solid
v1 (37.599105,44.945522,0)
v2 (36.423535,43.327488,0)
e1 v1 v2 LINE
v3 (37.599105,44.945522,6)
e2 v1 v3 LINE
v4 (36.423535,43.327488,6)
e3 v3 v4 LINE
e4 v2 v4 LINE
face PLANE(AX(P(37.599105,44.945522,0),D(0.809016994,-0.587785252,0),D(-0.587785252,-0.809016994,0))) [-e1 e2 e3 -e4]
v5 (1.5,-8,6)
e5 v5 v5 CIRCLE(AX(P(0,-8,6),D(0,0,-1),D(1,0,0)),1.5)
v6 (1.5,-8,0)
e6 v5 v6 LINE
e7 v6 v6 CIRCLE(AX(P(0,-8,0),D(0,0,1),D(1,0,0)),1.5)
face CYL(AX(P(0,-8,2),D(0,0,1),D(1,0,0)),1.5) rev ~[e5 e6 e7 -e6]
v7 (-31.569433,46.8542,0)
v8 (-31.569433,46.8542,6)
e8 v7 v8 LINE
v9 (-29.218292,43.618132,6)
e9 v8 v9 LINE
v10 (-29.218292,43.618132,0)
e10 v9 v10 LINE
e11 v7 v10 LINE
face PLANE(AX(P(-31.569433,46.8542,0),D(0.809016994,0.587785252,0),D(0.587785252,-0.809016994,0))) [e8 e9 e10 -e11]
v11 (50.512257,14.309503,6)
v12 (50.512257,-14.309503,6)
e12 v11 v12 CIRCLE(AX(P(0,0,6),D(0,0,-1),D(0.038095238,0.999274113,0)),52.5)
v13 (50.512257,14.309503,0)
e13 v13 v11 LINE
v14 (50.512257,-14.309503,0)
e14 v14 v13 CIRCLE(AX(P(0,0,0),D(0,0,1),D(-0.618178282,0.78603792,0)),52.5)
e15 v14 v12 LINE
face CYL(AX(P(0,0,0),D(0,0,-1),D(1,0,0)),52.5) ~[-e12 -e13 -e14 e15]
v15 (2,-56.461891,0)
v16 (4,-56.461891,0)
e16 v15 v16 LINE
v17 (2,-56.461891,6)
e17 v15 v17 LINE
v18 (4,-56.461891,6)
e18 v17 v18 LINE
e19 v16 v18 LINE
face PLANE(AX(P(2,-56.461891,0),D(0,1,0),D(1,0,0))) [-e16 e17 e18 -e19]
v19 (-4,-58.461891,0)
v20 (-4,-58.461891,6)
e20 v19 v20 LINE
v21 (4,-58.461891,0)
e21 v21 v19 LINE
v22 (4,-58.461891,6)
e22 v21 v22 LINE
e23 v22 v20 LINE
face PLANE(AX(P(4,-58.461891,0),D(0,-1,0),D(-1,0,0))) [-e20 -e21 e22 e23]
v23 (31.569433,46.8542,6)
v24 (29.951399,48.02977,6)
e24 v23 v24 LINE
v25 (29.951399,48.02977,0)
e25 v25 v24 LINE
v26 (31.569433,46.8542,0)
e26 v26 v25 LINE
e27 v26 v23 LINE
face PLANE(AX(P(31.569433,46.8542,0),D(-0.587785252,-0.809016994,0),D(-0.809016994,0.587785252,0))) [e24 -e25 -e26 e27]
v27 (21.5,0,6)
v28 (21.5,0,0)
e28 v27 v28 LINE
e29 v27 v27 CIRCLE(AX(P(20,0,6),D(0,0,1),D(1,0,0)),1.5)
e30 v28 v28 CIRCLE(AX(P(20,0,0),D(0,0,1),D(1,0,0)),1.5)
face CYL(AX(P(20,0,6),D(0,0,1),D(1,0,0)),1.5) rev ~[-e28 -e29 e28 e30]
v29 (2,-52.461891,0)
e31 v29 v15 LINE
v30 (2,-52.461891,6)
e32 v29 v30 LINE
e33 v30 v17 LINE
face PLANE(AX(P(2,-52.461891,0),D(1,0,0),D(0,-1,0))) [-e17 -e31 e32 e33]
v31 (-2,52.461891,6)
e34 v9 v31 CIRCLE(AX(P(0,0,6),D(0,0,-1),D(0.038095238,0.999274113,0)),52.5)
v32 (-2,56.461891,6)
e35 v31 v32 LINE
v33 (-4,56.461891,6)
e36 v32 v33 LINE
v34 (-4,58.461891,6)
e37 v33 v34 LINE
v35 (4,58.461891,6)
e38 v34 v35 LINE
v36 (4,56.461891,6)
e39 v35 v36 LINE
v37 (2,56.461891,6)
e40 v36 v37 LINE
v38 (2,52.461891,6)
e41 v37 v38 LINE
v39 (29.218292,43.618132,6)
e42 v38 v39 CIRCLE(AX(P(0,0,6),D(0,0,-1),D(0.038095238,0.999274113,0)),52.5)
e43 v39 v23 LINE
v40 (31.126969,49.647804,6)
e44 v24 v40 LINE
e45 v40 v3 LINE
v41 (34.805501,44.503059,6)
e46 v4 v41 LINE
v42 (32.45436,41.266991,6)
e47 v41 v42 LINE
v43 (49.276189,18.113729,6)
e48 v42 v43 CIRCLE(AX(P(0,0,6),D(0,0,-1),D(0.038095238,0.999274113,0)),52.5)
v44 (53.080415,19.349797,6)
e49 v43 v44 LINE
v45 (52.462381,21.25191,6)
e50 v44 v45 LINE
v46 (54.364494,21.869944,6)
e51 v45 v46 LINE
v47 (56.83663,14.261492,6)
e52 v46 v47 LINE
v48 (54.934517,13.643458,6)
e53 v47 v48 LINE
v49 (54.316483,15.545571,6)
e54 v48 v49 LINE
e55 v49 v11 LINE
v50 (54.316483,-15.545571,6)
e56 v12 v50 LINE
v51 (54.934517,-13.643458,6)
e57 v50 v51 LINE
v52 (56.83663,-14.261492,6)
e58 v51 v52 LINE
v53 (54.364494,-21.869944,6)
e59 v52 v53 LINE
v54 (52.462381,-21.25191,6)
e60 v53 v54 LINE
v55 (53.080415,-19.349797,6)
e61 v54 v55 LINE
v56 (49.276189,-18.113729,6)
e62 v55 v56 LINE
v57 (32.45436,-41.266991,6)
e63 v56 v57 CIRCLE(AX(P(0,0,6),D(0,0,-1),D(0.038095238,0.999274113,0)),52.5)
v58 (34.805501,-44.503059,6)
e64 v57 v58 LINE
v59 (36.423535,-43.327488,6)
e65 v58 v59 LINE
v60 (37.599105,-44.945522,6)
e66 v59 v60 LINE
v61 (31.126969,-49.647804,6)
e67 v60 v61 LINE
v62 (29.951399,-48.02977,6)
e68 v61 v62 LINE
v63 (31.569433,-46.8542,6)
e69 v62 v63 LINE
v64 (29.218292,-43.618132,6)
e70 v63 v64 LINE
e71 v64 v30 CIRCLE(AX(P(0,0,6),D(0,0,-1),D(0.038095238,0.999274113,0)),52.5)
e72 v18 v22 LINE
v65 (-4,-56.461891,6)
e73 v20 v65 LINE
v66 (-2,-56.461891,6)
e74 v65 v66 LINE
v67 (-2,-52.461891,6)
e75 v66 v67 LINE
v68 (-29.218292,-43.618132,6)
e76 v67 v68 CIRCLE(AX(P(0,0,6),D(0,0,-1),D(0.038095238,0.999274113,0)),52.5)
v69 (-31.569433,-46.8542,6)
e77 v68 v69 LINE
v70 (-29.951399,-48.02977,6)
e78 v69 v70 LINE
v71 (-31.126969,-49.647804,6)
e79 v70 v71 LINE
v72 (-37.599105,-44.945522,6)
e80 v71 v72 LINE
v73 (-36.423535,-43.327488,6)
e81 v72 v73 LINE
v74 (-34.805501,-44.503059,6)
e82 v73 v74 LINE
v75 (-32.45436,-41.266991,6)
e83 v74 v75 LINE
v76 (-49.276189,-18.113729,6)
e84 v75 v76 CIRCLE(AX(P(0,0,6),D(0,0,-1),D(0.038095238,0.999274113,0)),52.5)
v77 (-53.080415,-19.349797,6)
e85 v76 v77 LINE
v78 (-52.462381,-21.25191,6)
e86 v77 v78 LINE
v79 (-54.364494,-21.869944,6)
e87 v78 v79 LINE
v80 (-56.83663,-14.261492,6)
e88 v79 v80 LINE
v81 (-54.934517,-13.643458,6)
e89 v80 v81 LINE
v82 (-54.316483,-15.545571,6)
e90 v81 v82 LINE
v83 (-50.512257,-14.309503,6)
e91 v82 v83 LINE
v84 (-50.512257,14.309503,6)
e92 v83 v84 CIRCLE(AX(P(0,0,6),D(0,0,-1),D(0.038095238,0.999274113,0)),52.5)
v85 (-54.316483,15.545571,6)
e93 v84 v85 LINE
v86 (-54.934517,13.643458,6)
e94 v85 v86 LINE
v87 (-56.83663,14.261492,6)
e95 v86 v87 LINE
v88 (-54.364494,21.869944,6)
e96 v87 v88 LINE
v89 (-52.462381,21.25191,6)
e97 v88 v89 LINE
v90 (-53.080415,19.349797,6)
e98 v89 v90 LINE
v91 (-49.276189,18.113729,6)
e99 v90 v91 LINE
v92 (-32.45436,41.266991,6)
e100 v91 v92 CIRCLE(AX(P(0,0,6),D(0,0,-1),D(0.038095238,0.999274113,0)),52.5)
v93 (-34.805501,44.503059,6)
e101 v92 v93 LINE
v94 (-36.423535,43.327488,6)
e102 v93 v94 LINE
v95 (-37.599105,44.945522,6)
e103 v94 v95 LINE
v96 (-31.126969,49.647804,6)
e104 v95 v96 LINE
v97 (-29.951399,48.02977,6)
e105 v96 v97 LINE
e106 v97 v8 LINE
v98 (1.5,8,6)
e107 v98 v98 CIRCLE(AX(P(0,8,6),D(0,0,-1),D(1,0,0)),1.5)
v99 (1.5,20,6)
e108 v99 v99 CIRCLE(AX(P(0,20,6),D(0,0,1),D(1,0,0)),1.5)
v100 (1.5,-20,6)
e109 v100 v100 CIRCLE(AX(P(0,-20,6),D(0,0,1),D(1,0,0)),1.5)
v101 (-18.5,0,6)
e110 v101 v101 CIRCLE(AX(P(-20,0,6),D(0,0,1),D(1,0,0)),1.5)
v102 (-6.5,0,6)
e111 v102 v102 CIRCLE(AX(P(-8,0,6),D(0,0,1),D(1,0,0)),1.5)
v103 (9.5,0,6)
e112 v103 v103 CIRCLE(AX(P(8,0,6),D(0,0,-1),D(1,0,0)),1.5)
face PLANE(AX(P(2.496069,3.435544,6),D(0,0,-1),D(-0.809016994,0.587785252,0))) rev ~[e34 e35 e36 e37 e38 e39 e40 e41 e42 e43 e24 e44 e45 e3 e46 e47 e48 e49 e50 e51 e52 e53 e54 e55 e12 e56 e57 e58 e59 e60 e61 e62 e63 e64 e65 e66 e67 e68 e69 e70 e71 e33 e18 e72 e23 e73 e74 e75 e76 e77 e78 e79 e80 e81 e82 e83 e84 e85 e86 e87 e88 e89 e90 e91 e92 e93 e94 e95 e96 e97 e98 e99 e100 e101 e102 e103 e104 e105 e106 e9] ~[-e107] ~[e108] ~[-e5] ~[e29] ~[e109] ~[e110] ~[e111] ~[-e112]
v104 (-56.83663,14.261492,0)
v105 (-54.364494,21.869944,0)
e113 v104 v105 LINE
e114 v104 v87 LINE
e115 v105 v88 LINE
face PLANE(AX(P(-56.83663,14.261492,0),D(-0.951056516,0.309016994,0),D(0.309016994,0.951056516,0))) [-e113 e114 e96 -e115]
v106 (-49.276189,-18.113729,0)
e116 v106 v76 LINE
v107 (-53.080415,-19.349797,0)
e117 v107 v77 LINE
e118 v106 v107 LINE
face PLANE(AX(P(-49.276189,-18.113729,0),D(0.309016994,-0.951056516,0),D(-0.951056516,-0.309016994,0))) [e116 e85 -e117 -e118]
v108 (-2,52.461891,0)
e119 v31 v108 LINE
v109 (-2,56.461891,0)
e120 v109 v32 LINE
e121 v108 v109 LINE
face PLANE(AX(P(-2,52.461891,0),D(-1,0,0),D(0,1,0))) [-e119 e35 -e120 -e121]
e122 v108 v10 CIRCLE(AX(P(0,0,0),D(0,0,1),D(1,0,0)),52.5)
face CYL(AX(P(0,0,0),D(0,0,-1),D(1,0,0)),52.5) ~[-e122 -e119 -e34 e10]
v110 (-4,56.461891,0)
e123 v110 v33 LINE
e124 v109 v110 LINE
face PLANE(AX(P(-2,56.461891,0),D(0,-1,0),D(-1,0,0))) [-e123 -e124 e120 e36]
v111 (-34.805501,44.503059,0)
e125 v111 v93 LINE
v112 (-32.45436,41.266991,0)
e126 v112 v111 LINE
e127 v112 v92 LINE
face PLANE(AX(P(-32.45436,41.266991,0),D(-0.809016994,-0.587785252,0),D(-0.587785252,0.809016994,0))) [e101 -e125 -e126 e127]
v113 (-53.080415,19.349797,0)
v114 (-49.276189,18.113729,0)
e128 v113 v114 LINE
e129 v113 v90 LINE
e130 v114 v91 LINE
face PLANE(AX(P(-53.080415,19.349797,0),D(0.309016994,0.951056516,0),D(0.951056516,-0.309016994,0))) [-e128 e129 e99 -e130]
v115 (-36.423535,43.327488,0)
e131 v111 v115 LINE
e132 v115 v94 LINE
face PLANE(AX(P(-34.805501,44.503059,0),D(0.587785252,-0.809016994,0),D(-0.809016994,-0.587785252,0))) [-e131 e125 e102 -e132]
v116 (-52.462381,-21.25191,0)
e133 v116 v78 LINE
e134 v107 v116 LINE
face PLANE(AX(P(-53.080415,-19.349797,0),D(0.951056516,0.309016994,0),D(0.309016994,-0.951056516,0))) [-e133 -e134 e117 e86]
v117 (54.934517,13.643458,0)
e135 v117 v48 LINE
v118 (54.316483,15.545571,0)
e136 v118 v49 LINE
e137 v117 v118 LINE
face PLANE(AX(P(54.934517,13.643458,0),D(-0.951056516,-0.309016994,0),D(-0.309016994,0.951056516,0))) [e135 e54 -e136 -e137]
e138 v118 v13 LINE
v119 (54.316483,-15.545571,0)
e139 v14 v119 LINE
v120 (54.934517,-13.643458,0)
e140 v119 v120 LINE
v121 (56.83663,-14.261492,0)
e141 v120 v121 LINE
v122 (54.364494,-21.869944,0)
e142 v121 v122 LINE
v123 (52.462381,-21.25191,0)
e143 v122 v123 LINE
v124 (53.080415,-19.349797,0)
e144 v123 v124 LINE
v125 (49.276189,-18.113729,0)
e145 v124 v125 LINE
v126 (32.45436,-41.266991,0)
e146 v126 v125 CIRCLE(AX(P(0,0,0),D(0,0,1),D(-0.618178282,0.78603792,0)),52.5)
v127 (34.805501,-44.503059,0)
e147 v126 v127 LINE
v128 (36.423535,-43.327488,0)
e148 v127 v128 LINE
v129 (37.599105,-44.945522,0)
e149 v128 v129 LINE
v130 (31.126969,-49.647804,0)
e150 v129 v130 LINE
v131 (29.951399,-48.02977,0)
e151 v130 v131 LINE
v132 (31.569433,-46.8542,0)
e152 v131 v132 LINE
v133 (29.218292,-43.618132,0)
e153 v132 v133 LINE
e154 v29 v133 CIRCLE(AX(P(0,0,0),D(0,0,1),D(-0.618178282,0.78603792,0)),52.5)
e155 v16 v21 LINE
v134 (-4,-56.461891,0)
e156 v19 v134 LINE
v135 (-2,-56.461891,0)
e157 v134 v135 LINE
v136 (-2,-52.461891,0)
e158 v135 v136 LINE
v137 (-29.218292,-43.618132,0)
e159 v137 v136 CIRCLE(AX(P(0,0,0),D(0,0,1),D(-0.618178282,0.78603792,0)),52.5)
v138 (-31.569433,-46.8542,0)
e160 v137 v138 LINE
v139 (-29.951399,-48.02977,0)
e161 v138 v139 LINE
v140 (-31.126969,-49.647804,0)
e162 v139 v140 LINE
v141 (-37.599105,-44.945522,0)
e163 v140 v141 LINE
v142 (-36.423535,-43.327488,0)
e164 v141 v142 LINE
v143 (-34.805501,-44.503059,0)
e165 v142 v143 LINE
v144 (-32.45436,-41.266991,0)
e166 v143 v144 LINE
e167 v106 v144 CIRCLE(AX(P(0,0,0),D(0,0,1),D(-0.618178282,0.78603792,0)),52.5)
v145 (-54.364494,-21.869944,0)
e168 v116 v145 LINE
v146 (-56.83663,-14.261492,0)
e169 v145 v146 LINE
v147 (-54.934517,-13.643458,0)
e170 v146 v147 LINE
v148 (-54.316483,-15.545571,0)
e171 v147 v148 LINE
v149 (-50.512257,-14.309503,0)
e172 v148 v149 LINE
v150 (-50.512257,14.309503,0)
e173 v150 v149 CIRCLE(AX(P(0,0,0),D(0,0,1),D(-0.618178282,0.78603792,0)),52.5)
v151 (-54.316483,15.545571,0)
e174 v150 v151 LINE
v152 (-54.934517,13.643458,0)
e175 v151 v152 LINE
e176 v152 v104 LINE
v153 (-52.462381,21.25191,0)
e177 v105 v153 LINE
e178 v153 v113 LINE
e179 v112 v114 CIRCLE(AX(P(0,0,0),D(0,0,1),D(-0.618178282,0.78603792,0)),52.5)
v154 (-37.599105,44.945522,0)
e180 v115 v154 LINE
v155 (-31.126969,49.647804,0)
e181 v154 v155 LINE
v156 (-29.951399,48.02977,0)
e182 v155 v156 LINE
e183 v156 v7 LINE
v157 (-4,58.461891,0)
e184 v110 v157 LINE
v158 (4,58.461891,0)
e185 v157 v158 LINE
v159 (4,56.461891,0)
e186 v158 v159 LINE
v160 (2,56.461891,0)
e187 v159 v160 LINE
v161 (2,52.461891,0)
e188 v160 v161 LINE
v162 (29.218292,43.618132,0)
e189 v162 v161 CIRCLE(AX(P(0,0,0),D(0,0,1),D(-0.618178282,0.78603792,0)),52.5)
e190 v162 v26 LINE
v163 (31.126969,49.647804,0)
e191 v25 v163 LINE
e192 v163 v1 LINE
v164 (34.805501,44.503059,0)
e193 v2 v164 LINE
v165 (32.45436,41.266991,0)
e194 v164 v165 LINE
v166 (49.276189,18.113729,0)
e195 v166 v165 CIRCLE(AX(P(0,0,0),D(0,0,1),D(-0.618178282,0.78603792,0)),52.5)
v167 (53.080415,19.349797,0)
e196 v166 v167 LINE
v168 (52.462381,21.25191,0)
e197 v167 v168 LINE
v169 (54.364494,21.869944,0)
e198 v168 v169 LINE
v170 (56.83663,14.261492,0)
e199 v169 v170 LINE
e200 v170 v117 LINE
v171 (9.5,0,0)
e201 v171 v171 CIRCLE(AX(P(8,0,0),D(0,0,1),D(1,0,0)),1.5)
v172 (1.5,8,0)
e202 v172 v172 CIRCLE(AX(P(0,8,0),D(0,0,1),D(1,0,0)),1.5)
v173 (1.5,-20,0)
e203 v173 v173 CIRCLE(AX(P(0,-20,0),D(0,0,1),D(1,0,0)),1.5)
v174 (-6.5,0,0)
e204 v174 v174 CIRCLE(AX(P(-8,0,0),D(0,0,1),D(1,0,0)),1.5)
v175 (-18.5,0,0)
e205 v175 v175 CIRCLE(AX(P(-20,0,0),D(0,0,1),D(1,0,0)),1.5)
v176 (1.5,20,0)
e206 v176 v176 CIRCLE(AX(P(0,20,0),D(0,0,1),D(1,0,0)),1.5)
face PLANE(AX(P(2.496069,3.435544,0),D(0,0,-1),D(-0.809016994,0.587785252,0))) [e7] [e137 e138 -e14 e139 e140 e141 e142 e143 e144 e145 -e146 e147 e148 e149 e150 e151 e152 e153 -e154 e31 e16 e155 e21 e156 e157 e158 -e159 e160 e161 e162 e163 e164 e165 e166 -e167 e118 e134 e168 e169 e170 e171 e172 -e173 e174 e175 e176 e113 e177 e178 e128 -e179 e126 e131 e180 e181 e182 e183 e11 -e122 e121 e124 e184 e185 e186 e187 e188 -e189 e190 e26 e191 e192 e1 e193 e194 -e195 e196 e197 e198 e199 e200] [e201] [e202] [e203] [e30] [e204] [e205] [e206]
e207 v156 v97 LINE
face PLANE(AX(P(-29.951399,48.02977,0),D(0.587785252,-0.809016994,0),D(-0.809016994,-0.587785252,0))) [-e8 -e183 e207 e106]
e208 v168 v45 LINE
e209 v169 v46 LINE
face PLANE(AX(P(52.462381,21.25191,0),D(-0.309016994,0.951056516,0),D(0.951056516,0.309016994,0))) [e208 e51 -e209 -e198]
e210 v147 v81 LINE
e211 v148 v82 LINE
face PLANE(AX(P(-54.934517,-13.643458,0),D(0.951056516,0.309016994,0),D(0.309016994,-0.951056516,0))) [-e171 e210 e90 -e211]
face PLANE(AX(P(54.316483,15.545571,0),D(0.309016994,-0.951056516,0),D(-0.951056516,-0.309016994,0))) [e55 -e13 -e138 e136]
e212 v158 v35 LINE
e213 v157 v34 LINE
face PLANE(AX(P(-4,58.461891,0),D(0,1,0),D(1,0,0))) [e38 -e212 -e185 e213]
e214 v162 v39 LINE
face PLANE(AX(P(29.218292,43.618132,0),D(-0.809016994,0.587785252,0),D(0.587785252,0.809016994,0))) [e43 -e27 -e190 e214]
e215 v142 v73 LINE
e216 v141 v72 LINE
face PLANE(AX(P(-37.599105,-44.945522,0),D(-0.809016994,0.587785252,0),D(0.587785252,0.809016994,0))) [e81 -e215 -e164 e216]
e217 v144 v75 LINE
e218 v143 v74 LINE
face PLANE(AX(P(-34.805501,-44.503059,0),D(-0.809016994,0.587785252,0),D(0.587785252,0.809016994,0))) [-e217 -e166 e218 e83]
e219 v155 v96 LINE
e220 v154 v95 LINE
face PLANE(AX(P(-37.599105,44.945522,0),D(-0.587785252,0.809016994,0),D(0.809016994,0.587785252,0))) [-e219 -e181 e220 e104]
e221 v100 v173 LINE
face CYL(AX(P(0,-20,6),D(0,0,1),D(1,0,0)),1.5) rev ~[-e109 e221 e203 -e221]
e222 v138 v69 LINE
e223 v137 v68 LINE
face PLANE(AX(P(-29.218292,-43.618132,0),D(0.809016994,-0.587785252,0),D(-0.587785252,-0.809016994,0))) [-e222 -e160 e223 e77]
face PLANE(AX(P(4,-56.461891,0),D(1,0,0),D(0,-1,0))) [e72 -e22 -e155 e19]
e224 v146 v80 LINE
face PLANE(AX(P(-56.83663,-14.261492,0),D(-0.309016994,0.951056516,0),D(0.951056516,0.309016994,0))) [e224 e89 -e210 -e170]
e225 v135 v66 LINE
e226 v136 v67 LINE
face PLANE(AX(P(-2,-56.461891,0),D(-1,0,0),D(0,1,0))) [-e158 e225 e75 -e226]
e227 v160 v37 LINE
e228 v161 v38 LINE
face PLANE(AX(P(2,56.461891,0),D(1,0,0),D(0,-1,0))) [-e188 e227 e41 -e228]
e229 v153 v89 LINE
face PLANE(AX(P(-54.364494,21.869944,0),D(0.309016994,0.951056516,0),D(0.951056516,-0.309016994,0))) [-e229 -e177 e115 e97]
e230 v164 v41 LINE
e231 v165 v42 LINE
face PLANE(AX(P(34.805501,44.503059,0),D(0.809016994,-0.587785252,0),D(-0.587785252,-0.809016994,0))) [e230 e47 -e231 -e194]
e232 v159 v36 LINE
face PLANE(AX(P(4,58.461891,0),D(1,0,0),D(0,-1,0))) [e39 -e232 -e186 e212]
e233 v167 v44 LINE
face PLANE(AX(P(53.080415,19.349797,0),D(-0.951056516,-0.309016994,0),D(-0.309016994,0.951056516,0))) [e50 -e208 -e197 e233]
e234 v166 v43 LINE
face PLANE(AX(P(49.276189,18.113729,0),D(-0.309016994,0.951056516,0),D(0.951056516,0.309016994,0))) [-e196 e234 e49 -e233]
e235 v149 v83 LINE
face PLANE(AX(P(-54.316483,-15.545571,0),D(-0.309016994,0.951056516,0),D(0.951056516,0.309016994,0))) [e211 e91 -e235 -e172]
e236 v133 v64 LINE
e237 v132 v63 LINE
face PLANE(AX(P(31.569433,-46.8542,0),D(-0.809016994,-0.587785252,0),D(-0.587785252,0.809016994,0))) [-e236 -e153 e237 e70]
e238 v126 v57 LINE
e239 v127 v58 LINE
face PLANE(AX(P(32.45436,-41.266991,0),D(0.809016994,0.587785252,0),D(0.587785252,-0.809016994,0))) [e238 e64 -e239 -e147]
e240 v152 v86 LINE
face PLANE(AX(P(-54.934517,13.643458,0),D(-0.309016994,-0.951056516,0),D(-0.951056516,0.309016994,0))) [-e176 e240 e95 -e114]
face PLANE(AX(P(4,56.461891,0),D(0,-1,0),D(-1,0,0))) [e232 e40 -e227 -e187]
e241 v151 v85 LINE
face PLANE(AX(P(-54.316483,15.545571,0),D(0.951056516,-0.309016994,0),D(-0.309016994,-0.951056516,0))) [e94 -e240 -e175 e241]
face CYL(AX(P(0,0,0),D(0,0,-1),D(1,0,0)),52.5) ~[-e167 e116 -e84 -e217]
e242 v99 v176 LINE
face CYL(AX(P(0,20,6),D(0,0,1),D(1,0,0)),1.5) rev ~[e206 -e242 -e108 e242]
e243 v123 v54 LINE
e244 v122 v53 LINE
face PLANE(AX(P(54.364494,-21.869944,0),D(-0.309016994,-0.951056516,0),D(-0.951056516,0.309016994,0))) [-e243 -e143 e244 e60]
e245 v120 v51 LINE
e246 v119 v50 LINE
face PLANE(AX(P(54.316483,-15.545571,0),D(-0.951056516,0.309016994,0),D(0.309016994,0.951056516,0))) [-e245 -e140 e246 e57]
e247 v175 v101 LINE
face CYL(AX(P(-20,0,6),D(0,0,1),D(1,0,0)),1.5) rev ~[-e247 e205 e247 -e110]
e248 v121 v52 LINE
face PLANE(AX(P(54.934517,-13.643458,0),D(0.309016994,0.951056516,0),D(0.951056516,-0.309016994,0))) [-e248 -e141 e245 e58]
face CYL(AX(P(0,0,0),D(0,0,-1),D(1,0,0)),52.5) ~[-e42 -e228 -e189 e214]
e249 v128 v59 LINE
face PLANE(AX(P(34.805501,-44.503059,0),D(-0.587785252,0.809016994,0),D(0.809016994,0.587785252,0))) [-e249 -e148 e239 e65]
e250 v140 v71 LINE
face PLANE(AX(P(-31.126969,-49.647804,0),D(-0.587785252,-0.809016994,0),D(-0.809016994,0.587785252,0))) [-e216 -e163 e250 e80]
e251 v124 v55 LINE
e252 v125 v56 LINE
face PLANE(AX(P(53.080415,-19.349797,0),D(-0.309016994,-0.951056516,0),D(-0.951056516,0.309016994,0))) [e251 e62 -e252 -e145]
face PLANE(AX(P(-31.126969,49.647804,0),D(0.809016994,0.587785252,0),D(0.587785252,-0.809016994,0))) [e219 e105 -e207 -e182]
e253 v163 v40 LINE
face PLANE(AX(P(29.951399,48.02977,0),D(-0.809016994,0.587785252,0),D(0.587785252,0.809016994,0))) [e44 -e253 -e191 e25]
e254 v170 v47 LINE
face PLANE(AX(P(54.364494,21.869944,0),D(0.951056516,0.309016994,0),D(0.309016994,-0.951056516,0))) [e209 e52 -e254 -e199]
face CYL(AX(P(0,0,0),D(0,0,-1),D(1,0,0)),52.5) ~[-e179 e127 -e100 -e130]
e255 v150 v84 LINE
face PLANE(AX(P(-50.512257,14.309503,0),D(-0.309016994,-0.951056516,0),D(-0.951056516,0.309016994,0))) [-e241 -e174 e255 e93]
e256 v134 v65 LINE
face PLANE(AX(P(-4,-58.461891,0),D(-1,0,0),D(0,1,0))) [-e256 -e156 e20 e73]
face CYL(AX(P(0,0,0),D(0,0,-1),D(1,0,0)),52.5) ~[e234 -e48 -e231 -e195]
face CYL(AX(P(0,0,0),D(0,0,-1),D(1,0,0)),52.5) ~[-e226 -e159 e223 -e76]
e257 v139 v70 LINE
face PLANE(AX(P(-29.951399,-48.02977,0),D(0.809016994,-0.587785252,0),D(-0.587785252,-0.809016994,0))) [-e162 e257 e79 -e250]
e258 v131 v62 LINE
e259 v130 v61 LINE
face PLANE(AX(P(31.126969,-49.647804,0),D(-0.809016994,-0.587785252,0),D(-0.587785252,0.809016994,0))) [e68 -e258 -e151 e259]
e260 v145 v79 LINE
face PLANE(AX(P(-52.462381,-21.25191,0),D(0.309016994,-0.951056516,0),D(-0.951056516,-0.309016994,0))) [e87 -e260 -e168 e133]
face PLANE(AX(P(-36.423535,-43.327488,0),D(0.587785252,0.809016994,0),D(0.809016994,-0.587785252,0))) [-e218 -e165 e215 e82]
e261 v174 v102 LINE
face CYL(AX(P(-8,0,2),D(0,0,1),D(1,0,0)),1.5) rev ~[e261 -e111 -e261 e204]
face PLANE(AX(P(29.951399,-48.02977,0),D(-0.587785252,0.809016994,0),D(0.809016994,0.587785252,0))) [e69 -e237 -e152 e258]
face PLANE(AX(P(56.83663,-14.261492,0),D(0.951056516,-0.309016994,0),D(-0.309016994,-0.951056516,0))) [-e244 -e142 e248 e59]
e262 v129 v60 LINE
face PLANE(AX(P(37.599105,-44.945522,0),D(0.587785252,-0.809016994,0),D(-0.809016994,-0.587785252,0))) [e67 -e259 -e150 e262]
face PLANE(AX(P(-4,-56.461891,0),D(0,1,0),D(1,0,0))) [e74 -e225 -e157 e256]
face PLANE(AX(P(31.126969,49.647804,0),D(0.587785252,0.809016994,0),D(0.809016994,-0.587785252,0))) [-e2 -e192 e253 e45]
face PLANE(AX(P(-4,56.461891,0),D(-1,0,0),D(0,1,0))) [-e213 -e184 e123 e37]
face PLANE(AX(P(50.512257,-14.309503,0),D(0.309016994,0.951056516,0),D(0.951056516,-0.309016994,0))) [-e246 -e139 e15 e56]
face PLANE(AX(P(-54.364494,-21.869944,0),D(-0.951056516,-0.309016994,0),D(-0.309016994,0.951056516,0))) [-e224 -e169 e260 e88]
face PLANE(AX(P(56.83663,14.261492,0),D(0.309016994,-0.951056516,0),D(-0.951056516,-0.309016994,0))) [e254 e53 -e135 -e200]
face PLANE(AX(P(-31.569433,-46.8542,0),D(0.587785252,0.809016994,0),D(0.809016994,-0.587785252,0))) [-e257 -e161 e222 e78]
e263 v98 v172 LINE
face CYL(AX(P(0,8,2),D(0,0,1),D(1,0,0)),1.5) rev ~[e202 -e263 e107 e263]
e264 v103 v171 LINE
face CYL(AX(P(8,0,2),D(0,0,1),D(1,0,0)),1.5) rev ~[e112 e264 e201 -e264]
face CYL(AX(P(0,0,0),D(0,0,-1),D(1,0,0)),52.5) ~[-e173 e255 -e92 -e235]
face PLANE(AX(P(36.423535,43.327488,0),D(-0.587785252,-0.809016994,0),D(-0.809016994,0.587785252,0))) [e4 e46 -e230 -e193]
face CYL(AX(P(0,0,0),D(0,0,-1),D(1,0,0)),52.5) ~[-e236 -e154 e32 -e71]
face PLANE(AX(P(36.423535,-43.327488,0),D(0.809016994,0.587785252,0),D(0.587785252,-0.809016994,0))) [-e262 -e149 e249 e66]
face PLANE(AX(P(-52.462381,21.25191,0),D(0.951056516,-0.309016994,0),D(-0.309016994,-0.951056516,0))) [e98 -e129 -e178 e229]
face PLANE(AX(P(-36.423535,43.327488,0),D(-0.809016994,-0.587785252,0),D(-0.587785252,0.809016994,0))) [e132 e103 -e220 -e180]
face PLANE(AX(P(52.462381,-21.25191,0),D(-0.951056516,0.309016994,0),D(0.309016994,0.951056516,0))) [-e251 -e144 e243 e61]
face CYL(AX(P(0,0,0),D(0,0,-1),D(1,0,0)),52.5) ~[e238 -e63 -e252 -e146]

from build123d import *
from build123d.topology import SkipClean

# Parameters (mm, degrees)
SKETCH1_R           = 52.5
BOSS_EXTRUDE1_DEPTH = 2
BOSS_EXTRUDE2_DEPTH = 6
CIRPATTERN1_COUNT   = 10
SKETCH4_R           = 1.5
CUT_EXTRUDE2_DEPTH  = 10
SKETCH7_R           = 1.5
CUT_EXTRUDE3_DEPTH  = 10


with BuildPart() as part:
    # Sketch1 → Boss-Extrude1 (new body)
    with BuildSketch(Plane.XY):
        Circle(SKETCH1_R)
    extrude(amount=BOSS_EXTRUDE1_DEPTH)

    # Sketch6 → Boss-Extrude2 (add)
    with SkipClean():  # the faces are left unmerged after this step: merging them gives an invalid solid
        with BuildSketch(Plane.XY):
            with BuildLine():
                Line((-2, 52.46189093), (-2, 56.46189093))
                Line((-2, 56.46189093), (-4, 56.46189093))
                Line((-4, 56.46189093), (-4, 58.46189093))
                Line((-4, 58.46189093), (4, 58.46189093))
                Line((4, 58.46189093), (4, 56.46189093))
                Line((4, 56.46189093), (2, 56.46189093))
                Line((2, 56.46189093), (2, 52.46189093))
                ThreePointArc((2, 52.46189093), (0, -52.5), (-2, 52.46189093))
            make_face()
        boss_extrude2 = extrude(amount=BOSS_EXTRUDE2_DEPTH)

    # CirPattern1: Boss-Extrude2 ×10 about axis
    cirpattern1_axis = Axis((0, 0, 0), (0, 0, 1))
    for i in range(1, CIRPATTERN1_COUNT):
        add(boss_extrude2.rotate(cirpattern1_axis, i * 360 / CIRPATTERN1_COUNT))

    # Sketch4 → Cut-Extrude2 (cut, symmetric)
    with BuildSketch(Plane.XY.offset(2)):
        with Locations((0, 8)):
            Circle(SKETCH4_R)
        with Locations((8, 0)):
            Circle(SKETCH4_R)
        with Locations((0, -8)):
            Circle(SKETCH4_R)
        with Locations((-8, 0)):
            Circle(SKETCH4_R)
    extrude(amount=CUT_EXTRUDE2_DEPTH, both=True, mode=Mode.SUBTRACT)

    # Sketch7 → Cut-Extrude3 (cut, symmetric)
    with BuildSketch(Plane.XY.offset(6)):
        with Locations((0, 20)):
            Circle(SKETCH7_R)
        with Locations((20, 0)):
            Circle(SKETCH7_R)
        with Locations((0, -20)):
            Circle(SKETCH7_R)
        with Locations((-20, 0)):
            Circle(SKETCH7_R)
    extrude(amount=CUT_EXTRUDE3_DEPTH, both=True, mode=Mode.SUBTRACT)


solid = part.part
